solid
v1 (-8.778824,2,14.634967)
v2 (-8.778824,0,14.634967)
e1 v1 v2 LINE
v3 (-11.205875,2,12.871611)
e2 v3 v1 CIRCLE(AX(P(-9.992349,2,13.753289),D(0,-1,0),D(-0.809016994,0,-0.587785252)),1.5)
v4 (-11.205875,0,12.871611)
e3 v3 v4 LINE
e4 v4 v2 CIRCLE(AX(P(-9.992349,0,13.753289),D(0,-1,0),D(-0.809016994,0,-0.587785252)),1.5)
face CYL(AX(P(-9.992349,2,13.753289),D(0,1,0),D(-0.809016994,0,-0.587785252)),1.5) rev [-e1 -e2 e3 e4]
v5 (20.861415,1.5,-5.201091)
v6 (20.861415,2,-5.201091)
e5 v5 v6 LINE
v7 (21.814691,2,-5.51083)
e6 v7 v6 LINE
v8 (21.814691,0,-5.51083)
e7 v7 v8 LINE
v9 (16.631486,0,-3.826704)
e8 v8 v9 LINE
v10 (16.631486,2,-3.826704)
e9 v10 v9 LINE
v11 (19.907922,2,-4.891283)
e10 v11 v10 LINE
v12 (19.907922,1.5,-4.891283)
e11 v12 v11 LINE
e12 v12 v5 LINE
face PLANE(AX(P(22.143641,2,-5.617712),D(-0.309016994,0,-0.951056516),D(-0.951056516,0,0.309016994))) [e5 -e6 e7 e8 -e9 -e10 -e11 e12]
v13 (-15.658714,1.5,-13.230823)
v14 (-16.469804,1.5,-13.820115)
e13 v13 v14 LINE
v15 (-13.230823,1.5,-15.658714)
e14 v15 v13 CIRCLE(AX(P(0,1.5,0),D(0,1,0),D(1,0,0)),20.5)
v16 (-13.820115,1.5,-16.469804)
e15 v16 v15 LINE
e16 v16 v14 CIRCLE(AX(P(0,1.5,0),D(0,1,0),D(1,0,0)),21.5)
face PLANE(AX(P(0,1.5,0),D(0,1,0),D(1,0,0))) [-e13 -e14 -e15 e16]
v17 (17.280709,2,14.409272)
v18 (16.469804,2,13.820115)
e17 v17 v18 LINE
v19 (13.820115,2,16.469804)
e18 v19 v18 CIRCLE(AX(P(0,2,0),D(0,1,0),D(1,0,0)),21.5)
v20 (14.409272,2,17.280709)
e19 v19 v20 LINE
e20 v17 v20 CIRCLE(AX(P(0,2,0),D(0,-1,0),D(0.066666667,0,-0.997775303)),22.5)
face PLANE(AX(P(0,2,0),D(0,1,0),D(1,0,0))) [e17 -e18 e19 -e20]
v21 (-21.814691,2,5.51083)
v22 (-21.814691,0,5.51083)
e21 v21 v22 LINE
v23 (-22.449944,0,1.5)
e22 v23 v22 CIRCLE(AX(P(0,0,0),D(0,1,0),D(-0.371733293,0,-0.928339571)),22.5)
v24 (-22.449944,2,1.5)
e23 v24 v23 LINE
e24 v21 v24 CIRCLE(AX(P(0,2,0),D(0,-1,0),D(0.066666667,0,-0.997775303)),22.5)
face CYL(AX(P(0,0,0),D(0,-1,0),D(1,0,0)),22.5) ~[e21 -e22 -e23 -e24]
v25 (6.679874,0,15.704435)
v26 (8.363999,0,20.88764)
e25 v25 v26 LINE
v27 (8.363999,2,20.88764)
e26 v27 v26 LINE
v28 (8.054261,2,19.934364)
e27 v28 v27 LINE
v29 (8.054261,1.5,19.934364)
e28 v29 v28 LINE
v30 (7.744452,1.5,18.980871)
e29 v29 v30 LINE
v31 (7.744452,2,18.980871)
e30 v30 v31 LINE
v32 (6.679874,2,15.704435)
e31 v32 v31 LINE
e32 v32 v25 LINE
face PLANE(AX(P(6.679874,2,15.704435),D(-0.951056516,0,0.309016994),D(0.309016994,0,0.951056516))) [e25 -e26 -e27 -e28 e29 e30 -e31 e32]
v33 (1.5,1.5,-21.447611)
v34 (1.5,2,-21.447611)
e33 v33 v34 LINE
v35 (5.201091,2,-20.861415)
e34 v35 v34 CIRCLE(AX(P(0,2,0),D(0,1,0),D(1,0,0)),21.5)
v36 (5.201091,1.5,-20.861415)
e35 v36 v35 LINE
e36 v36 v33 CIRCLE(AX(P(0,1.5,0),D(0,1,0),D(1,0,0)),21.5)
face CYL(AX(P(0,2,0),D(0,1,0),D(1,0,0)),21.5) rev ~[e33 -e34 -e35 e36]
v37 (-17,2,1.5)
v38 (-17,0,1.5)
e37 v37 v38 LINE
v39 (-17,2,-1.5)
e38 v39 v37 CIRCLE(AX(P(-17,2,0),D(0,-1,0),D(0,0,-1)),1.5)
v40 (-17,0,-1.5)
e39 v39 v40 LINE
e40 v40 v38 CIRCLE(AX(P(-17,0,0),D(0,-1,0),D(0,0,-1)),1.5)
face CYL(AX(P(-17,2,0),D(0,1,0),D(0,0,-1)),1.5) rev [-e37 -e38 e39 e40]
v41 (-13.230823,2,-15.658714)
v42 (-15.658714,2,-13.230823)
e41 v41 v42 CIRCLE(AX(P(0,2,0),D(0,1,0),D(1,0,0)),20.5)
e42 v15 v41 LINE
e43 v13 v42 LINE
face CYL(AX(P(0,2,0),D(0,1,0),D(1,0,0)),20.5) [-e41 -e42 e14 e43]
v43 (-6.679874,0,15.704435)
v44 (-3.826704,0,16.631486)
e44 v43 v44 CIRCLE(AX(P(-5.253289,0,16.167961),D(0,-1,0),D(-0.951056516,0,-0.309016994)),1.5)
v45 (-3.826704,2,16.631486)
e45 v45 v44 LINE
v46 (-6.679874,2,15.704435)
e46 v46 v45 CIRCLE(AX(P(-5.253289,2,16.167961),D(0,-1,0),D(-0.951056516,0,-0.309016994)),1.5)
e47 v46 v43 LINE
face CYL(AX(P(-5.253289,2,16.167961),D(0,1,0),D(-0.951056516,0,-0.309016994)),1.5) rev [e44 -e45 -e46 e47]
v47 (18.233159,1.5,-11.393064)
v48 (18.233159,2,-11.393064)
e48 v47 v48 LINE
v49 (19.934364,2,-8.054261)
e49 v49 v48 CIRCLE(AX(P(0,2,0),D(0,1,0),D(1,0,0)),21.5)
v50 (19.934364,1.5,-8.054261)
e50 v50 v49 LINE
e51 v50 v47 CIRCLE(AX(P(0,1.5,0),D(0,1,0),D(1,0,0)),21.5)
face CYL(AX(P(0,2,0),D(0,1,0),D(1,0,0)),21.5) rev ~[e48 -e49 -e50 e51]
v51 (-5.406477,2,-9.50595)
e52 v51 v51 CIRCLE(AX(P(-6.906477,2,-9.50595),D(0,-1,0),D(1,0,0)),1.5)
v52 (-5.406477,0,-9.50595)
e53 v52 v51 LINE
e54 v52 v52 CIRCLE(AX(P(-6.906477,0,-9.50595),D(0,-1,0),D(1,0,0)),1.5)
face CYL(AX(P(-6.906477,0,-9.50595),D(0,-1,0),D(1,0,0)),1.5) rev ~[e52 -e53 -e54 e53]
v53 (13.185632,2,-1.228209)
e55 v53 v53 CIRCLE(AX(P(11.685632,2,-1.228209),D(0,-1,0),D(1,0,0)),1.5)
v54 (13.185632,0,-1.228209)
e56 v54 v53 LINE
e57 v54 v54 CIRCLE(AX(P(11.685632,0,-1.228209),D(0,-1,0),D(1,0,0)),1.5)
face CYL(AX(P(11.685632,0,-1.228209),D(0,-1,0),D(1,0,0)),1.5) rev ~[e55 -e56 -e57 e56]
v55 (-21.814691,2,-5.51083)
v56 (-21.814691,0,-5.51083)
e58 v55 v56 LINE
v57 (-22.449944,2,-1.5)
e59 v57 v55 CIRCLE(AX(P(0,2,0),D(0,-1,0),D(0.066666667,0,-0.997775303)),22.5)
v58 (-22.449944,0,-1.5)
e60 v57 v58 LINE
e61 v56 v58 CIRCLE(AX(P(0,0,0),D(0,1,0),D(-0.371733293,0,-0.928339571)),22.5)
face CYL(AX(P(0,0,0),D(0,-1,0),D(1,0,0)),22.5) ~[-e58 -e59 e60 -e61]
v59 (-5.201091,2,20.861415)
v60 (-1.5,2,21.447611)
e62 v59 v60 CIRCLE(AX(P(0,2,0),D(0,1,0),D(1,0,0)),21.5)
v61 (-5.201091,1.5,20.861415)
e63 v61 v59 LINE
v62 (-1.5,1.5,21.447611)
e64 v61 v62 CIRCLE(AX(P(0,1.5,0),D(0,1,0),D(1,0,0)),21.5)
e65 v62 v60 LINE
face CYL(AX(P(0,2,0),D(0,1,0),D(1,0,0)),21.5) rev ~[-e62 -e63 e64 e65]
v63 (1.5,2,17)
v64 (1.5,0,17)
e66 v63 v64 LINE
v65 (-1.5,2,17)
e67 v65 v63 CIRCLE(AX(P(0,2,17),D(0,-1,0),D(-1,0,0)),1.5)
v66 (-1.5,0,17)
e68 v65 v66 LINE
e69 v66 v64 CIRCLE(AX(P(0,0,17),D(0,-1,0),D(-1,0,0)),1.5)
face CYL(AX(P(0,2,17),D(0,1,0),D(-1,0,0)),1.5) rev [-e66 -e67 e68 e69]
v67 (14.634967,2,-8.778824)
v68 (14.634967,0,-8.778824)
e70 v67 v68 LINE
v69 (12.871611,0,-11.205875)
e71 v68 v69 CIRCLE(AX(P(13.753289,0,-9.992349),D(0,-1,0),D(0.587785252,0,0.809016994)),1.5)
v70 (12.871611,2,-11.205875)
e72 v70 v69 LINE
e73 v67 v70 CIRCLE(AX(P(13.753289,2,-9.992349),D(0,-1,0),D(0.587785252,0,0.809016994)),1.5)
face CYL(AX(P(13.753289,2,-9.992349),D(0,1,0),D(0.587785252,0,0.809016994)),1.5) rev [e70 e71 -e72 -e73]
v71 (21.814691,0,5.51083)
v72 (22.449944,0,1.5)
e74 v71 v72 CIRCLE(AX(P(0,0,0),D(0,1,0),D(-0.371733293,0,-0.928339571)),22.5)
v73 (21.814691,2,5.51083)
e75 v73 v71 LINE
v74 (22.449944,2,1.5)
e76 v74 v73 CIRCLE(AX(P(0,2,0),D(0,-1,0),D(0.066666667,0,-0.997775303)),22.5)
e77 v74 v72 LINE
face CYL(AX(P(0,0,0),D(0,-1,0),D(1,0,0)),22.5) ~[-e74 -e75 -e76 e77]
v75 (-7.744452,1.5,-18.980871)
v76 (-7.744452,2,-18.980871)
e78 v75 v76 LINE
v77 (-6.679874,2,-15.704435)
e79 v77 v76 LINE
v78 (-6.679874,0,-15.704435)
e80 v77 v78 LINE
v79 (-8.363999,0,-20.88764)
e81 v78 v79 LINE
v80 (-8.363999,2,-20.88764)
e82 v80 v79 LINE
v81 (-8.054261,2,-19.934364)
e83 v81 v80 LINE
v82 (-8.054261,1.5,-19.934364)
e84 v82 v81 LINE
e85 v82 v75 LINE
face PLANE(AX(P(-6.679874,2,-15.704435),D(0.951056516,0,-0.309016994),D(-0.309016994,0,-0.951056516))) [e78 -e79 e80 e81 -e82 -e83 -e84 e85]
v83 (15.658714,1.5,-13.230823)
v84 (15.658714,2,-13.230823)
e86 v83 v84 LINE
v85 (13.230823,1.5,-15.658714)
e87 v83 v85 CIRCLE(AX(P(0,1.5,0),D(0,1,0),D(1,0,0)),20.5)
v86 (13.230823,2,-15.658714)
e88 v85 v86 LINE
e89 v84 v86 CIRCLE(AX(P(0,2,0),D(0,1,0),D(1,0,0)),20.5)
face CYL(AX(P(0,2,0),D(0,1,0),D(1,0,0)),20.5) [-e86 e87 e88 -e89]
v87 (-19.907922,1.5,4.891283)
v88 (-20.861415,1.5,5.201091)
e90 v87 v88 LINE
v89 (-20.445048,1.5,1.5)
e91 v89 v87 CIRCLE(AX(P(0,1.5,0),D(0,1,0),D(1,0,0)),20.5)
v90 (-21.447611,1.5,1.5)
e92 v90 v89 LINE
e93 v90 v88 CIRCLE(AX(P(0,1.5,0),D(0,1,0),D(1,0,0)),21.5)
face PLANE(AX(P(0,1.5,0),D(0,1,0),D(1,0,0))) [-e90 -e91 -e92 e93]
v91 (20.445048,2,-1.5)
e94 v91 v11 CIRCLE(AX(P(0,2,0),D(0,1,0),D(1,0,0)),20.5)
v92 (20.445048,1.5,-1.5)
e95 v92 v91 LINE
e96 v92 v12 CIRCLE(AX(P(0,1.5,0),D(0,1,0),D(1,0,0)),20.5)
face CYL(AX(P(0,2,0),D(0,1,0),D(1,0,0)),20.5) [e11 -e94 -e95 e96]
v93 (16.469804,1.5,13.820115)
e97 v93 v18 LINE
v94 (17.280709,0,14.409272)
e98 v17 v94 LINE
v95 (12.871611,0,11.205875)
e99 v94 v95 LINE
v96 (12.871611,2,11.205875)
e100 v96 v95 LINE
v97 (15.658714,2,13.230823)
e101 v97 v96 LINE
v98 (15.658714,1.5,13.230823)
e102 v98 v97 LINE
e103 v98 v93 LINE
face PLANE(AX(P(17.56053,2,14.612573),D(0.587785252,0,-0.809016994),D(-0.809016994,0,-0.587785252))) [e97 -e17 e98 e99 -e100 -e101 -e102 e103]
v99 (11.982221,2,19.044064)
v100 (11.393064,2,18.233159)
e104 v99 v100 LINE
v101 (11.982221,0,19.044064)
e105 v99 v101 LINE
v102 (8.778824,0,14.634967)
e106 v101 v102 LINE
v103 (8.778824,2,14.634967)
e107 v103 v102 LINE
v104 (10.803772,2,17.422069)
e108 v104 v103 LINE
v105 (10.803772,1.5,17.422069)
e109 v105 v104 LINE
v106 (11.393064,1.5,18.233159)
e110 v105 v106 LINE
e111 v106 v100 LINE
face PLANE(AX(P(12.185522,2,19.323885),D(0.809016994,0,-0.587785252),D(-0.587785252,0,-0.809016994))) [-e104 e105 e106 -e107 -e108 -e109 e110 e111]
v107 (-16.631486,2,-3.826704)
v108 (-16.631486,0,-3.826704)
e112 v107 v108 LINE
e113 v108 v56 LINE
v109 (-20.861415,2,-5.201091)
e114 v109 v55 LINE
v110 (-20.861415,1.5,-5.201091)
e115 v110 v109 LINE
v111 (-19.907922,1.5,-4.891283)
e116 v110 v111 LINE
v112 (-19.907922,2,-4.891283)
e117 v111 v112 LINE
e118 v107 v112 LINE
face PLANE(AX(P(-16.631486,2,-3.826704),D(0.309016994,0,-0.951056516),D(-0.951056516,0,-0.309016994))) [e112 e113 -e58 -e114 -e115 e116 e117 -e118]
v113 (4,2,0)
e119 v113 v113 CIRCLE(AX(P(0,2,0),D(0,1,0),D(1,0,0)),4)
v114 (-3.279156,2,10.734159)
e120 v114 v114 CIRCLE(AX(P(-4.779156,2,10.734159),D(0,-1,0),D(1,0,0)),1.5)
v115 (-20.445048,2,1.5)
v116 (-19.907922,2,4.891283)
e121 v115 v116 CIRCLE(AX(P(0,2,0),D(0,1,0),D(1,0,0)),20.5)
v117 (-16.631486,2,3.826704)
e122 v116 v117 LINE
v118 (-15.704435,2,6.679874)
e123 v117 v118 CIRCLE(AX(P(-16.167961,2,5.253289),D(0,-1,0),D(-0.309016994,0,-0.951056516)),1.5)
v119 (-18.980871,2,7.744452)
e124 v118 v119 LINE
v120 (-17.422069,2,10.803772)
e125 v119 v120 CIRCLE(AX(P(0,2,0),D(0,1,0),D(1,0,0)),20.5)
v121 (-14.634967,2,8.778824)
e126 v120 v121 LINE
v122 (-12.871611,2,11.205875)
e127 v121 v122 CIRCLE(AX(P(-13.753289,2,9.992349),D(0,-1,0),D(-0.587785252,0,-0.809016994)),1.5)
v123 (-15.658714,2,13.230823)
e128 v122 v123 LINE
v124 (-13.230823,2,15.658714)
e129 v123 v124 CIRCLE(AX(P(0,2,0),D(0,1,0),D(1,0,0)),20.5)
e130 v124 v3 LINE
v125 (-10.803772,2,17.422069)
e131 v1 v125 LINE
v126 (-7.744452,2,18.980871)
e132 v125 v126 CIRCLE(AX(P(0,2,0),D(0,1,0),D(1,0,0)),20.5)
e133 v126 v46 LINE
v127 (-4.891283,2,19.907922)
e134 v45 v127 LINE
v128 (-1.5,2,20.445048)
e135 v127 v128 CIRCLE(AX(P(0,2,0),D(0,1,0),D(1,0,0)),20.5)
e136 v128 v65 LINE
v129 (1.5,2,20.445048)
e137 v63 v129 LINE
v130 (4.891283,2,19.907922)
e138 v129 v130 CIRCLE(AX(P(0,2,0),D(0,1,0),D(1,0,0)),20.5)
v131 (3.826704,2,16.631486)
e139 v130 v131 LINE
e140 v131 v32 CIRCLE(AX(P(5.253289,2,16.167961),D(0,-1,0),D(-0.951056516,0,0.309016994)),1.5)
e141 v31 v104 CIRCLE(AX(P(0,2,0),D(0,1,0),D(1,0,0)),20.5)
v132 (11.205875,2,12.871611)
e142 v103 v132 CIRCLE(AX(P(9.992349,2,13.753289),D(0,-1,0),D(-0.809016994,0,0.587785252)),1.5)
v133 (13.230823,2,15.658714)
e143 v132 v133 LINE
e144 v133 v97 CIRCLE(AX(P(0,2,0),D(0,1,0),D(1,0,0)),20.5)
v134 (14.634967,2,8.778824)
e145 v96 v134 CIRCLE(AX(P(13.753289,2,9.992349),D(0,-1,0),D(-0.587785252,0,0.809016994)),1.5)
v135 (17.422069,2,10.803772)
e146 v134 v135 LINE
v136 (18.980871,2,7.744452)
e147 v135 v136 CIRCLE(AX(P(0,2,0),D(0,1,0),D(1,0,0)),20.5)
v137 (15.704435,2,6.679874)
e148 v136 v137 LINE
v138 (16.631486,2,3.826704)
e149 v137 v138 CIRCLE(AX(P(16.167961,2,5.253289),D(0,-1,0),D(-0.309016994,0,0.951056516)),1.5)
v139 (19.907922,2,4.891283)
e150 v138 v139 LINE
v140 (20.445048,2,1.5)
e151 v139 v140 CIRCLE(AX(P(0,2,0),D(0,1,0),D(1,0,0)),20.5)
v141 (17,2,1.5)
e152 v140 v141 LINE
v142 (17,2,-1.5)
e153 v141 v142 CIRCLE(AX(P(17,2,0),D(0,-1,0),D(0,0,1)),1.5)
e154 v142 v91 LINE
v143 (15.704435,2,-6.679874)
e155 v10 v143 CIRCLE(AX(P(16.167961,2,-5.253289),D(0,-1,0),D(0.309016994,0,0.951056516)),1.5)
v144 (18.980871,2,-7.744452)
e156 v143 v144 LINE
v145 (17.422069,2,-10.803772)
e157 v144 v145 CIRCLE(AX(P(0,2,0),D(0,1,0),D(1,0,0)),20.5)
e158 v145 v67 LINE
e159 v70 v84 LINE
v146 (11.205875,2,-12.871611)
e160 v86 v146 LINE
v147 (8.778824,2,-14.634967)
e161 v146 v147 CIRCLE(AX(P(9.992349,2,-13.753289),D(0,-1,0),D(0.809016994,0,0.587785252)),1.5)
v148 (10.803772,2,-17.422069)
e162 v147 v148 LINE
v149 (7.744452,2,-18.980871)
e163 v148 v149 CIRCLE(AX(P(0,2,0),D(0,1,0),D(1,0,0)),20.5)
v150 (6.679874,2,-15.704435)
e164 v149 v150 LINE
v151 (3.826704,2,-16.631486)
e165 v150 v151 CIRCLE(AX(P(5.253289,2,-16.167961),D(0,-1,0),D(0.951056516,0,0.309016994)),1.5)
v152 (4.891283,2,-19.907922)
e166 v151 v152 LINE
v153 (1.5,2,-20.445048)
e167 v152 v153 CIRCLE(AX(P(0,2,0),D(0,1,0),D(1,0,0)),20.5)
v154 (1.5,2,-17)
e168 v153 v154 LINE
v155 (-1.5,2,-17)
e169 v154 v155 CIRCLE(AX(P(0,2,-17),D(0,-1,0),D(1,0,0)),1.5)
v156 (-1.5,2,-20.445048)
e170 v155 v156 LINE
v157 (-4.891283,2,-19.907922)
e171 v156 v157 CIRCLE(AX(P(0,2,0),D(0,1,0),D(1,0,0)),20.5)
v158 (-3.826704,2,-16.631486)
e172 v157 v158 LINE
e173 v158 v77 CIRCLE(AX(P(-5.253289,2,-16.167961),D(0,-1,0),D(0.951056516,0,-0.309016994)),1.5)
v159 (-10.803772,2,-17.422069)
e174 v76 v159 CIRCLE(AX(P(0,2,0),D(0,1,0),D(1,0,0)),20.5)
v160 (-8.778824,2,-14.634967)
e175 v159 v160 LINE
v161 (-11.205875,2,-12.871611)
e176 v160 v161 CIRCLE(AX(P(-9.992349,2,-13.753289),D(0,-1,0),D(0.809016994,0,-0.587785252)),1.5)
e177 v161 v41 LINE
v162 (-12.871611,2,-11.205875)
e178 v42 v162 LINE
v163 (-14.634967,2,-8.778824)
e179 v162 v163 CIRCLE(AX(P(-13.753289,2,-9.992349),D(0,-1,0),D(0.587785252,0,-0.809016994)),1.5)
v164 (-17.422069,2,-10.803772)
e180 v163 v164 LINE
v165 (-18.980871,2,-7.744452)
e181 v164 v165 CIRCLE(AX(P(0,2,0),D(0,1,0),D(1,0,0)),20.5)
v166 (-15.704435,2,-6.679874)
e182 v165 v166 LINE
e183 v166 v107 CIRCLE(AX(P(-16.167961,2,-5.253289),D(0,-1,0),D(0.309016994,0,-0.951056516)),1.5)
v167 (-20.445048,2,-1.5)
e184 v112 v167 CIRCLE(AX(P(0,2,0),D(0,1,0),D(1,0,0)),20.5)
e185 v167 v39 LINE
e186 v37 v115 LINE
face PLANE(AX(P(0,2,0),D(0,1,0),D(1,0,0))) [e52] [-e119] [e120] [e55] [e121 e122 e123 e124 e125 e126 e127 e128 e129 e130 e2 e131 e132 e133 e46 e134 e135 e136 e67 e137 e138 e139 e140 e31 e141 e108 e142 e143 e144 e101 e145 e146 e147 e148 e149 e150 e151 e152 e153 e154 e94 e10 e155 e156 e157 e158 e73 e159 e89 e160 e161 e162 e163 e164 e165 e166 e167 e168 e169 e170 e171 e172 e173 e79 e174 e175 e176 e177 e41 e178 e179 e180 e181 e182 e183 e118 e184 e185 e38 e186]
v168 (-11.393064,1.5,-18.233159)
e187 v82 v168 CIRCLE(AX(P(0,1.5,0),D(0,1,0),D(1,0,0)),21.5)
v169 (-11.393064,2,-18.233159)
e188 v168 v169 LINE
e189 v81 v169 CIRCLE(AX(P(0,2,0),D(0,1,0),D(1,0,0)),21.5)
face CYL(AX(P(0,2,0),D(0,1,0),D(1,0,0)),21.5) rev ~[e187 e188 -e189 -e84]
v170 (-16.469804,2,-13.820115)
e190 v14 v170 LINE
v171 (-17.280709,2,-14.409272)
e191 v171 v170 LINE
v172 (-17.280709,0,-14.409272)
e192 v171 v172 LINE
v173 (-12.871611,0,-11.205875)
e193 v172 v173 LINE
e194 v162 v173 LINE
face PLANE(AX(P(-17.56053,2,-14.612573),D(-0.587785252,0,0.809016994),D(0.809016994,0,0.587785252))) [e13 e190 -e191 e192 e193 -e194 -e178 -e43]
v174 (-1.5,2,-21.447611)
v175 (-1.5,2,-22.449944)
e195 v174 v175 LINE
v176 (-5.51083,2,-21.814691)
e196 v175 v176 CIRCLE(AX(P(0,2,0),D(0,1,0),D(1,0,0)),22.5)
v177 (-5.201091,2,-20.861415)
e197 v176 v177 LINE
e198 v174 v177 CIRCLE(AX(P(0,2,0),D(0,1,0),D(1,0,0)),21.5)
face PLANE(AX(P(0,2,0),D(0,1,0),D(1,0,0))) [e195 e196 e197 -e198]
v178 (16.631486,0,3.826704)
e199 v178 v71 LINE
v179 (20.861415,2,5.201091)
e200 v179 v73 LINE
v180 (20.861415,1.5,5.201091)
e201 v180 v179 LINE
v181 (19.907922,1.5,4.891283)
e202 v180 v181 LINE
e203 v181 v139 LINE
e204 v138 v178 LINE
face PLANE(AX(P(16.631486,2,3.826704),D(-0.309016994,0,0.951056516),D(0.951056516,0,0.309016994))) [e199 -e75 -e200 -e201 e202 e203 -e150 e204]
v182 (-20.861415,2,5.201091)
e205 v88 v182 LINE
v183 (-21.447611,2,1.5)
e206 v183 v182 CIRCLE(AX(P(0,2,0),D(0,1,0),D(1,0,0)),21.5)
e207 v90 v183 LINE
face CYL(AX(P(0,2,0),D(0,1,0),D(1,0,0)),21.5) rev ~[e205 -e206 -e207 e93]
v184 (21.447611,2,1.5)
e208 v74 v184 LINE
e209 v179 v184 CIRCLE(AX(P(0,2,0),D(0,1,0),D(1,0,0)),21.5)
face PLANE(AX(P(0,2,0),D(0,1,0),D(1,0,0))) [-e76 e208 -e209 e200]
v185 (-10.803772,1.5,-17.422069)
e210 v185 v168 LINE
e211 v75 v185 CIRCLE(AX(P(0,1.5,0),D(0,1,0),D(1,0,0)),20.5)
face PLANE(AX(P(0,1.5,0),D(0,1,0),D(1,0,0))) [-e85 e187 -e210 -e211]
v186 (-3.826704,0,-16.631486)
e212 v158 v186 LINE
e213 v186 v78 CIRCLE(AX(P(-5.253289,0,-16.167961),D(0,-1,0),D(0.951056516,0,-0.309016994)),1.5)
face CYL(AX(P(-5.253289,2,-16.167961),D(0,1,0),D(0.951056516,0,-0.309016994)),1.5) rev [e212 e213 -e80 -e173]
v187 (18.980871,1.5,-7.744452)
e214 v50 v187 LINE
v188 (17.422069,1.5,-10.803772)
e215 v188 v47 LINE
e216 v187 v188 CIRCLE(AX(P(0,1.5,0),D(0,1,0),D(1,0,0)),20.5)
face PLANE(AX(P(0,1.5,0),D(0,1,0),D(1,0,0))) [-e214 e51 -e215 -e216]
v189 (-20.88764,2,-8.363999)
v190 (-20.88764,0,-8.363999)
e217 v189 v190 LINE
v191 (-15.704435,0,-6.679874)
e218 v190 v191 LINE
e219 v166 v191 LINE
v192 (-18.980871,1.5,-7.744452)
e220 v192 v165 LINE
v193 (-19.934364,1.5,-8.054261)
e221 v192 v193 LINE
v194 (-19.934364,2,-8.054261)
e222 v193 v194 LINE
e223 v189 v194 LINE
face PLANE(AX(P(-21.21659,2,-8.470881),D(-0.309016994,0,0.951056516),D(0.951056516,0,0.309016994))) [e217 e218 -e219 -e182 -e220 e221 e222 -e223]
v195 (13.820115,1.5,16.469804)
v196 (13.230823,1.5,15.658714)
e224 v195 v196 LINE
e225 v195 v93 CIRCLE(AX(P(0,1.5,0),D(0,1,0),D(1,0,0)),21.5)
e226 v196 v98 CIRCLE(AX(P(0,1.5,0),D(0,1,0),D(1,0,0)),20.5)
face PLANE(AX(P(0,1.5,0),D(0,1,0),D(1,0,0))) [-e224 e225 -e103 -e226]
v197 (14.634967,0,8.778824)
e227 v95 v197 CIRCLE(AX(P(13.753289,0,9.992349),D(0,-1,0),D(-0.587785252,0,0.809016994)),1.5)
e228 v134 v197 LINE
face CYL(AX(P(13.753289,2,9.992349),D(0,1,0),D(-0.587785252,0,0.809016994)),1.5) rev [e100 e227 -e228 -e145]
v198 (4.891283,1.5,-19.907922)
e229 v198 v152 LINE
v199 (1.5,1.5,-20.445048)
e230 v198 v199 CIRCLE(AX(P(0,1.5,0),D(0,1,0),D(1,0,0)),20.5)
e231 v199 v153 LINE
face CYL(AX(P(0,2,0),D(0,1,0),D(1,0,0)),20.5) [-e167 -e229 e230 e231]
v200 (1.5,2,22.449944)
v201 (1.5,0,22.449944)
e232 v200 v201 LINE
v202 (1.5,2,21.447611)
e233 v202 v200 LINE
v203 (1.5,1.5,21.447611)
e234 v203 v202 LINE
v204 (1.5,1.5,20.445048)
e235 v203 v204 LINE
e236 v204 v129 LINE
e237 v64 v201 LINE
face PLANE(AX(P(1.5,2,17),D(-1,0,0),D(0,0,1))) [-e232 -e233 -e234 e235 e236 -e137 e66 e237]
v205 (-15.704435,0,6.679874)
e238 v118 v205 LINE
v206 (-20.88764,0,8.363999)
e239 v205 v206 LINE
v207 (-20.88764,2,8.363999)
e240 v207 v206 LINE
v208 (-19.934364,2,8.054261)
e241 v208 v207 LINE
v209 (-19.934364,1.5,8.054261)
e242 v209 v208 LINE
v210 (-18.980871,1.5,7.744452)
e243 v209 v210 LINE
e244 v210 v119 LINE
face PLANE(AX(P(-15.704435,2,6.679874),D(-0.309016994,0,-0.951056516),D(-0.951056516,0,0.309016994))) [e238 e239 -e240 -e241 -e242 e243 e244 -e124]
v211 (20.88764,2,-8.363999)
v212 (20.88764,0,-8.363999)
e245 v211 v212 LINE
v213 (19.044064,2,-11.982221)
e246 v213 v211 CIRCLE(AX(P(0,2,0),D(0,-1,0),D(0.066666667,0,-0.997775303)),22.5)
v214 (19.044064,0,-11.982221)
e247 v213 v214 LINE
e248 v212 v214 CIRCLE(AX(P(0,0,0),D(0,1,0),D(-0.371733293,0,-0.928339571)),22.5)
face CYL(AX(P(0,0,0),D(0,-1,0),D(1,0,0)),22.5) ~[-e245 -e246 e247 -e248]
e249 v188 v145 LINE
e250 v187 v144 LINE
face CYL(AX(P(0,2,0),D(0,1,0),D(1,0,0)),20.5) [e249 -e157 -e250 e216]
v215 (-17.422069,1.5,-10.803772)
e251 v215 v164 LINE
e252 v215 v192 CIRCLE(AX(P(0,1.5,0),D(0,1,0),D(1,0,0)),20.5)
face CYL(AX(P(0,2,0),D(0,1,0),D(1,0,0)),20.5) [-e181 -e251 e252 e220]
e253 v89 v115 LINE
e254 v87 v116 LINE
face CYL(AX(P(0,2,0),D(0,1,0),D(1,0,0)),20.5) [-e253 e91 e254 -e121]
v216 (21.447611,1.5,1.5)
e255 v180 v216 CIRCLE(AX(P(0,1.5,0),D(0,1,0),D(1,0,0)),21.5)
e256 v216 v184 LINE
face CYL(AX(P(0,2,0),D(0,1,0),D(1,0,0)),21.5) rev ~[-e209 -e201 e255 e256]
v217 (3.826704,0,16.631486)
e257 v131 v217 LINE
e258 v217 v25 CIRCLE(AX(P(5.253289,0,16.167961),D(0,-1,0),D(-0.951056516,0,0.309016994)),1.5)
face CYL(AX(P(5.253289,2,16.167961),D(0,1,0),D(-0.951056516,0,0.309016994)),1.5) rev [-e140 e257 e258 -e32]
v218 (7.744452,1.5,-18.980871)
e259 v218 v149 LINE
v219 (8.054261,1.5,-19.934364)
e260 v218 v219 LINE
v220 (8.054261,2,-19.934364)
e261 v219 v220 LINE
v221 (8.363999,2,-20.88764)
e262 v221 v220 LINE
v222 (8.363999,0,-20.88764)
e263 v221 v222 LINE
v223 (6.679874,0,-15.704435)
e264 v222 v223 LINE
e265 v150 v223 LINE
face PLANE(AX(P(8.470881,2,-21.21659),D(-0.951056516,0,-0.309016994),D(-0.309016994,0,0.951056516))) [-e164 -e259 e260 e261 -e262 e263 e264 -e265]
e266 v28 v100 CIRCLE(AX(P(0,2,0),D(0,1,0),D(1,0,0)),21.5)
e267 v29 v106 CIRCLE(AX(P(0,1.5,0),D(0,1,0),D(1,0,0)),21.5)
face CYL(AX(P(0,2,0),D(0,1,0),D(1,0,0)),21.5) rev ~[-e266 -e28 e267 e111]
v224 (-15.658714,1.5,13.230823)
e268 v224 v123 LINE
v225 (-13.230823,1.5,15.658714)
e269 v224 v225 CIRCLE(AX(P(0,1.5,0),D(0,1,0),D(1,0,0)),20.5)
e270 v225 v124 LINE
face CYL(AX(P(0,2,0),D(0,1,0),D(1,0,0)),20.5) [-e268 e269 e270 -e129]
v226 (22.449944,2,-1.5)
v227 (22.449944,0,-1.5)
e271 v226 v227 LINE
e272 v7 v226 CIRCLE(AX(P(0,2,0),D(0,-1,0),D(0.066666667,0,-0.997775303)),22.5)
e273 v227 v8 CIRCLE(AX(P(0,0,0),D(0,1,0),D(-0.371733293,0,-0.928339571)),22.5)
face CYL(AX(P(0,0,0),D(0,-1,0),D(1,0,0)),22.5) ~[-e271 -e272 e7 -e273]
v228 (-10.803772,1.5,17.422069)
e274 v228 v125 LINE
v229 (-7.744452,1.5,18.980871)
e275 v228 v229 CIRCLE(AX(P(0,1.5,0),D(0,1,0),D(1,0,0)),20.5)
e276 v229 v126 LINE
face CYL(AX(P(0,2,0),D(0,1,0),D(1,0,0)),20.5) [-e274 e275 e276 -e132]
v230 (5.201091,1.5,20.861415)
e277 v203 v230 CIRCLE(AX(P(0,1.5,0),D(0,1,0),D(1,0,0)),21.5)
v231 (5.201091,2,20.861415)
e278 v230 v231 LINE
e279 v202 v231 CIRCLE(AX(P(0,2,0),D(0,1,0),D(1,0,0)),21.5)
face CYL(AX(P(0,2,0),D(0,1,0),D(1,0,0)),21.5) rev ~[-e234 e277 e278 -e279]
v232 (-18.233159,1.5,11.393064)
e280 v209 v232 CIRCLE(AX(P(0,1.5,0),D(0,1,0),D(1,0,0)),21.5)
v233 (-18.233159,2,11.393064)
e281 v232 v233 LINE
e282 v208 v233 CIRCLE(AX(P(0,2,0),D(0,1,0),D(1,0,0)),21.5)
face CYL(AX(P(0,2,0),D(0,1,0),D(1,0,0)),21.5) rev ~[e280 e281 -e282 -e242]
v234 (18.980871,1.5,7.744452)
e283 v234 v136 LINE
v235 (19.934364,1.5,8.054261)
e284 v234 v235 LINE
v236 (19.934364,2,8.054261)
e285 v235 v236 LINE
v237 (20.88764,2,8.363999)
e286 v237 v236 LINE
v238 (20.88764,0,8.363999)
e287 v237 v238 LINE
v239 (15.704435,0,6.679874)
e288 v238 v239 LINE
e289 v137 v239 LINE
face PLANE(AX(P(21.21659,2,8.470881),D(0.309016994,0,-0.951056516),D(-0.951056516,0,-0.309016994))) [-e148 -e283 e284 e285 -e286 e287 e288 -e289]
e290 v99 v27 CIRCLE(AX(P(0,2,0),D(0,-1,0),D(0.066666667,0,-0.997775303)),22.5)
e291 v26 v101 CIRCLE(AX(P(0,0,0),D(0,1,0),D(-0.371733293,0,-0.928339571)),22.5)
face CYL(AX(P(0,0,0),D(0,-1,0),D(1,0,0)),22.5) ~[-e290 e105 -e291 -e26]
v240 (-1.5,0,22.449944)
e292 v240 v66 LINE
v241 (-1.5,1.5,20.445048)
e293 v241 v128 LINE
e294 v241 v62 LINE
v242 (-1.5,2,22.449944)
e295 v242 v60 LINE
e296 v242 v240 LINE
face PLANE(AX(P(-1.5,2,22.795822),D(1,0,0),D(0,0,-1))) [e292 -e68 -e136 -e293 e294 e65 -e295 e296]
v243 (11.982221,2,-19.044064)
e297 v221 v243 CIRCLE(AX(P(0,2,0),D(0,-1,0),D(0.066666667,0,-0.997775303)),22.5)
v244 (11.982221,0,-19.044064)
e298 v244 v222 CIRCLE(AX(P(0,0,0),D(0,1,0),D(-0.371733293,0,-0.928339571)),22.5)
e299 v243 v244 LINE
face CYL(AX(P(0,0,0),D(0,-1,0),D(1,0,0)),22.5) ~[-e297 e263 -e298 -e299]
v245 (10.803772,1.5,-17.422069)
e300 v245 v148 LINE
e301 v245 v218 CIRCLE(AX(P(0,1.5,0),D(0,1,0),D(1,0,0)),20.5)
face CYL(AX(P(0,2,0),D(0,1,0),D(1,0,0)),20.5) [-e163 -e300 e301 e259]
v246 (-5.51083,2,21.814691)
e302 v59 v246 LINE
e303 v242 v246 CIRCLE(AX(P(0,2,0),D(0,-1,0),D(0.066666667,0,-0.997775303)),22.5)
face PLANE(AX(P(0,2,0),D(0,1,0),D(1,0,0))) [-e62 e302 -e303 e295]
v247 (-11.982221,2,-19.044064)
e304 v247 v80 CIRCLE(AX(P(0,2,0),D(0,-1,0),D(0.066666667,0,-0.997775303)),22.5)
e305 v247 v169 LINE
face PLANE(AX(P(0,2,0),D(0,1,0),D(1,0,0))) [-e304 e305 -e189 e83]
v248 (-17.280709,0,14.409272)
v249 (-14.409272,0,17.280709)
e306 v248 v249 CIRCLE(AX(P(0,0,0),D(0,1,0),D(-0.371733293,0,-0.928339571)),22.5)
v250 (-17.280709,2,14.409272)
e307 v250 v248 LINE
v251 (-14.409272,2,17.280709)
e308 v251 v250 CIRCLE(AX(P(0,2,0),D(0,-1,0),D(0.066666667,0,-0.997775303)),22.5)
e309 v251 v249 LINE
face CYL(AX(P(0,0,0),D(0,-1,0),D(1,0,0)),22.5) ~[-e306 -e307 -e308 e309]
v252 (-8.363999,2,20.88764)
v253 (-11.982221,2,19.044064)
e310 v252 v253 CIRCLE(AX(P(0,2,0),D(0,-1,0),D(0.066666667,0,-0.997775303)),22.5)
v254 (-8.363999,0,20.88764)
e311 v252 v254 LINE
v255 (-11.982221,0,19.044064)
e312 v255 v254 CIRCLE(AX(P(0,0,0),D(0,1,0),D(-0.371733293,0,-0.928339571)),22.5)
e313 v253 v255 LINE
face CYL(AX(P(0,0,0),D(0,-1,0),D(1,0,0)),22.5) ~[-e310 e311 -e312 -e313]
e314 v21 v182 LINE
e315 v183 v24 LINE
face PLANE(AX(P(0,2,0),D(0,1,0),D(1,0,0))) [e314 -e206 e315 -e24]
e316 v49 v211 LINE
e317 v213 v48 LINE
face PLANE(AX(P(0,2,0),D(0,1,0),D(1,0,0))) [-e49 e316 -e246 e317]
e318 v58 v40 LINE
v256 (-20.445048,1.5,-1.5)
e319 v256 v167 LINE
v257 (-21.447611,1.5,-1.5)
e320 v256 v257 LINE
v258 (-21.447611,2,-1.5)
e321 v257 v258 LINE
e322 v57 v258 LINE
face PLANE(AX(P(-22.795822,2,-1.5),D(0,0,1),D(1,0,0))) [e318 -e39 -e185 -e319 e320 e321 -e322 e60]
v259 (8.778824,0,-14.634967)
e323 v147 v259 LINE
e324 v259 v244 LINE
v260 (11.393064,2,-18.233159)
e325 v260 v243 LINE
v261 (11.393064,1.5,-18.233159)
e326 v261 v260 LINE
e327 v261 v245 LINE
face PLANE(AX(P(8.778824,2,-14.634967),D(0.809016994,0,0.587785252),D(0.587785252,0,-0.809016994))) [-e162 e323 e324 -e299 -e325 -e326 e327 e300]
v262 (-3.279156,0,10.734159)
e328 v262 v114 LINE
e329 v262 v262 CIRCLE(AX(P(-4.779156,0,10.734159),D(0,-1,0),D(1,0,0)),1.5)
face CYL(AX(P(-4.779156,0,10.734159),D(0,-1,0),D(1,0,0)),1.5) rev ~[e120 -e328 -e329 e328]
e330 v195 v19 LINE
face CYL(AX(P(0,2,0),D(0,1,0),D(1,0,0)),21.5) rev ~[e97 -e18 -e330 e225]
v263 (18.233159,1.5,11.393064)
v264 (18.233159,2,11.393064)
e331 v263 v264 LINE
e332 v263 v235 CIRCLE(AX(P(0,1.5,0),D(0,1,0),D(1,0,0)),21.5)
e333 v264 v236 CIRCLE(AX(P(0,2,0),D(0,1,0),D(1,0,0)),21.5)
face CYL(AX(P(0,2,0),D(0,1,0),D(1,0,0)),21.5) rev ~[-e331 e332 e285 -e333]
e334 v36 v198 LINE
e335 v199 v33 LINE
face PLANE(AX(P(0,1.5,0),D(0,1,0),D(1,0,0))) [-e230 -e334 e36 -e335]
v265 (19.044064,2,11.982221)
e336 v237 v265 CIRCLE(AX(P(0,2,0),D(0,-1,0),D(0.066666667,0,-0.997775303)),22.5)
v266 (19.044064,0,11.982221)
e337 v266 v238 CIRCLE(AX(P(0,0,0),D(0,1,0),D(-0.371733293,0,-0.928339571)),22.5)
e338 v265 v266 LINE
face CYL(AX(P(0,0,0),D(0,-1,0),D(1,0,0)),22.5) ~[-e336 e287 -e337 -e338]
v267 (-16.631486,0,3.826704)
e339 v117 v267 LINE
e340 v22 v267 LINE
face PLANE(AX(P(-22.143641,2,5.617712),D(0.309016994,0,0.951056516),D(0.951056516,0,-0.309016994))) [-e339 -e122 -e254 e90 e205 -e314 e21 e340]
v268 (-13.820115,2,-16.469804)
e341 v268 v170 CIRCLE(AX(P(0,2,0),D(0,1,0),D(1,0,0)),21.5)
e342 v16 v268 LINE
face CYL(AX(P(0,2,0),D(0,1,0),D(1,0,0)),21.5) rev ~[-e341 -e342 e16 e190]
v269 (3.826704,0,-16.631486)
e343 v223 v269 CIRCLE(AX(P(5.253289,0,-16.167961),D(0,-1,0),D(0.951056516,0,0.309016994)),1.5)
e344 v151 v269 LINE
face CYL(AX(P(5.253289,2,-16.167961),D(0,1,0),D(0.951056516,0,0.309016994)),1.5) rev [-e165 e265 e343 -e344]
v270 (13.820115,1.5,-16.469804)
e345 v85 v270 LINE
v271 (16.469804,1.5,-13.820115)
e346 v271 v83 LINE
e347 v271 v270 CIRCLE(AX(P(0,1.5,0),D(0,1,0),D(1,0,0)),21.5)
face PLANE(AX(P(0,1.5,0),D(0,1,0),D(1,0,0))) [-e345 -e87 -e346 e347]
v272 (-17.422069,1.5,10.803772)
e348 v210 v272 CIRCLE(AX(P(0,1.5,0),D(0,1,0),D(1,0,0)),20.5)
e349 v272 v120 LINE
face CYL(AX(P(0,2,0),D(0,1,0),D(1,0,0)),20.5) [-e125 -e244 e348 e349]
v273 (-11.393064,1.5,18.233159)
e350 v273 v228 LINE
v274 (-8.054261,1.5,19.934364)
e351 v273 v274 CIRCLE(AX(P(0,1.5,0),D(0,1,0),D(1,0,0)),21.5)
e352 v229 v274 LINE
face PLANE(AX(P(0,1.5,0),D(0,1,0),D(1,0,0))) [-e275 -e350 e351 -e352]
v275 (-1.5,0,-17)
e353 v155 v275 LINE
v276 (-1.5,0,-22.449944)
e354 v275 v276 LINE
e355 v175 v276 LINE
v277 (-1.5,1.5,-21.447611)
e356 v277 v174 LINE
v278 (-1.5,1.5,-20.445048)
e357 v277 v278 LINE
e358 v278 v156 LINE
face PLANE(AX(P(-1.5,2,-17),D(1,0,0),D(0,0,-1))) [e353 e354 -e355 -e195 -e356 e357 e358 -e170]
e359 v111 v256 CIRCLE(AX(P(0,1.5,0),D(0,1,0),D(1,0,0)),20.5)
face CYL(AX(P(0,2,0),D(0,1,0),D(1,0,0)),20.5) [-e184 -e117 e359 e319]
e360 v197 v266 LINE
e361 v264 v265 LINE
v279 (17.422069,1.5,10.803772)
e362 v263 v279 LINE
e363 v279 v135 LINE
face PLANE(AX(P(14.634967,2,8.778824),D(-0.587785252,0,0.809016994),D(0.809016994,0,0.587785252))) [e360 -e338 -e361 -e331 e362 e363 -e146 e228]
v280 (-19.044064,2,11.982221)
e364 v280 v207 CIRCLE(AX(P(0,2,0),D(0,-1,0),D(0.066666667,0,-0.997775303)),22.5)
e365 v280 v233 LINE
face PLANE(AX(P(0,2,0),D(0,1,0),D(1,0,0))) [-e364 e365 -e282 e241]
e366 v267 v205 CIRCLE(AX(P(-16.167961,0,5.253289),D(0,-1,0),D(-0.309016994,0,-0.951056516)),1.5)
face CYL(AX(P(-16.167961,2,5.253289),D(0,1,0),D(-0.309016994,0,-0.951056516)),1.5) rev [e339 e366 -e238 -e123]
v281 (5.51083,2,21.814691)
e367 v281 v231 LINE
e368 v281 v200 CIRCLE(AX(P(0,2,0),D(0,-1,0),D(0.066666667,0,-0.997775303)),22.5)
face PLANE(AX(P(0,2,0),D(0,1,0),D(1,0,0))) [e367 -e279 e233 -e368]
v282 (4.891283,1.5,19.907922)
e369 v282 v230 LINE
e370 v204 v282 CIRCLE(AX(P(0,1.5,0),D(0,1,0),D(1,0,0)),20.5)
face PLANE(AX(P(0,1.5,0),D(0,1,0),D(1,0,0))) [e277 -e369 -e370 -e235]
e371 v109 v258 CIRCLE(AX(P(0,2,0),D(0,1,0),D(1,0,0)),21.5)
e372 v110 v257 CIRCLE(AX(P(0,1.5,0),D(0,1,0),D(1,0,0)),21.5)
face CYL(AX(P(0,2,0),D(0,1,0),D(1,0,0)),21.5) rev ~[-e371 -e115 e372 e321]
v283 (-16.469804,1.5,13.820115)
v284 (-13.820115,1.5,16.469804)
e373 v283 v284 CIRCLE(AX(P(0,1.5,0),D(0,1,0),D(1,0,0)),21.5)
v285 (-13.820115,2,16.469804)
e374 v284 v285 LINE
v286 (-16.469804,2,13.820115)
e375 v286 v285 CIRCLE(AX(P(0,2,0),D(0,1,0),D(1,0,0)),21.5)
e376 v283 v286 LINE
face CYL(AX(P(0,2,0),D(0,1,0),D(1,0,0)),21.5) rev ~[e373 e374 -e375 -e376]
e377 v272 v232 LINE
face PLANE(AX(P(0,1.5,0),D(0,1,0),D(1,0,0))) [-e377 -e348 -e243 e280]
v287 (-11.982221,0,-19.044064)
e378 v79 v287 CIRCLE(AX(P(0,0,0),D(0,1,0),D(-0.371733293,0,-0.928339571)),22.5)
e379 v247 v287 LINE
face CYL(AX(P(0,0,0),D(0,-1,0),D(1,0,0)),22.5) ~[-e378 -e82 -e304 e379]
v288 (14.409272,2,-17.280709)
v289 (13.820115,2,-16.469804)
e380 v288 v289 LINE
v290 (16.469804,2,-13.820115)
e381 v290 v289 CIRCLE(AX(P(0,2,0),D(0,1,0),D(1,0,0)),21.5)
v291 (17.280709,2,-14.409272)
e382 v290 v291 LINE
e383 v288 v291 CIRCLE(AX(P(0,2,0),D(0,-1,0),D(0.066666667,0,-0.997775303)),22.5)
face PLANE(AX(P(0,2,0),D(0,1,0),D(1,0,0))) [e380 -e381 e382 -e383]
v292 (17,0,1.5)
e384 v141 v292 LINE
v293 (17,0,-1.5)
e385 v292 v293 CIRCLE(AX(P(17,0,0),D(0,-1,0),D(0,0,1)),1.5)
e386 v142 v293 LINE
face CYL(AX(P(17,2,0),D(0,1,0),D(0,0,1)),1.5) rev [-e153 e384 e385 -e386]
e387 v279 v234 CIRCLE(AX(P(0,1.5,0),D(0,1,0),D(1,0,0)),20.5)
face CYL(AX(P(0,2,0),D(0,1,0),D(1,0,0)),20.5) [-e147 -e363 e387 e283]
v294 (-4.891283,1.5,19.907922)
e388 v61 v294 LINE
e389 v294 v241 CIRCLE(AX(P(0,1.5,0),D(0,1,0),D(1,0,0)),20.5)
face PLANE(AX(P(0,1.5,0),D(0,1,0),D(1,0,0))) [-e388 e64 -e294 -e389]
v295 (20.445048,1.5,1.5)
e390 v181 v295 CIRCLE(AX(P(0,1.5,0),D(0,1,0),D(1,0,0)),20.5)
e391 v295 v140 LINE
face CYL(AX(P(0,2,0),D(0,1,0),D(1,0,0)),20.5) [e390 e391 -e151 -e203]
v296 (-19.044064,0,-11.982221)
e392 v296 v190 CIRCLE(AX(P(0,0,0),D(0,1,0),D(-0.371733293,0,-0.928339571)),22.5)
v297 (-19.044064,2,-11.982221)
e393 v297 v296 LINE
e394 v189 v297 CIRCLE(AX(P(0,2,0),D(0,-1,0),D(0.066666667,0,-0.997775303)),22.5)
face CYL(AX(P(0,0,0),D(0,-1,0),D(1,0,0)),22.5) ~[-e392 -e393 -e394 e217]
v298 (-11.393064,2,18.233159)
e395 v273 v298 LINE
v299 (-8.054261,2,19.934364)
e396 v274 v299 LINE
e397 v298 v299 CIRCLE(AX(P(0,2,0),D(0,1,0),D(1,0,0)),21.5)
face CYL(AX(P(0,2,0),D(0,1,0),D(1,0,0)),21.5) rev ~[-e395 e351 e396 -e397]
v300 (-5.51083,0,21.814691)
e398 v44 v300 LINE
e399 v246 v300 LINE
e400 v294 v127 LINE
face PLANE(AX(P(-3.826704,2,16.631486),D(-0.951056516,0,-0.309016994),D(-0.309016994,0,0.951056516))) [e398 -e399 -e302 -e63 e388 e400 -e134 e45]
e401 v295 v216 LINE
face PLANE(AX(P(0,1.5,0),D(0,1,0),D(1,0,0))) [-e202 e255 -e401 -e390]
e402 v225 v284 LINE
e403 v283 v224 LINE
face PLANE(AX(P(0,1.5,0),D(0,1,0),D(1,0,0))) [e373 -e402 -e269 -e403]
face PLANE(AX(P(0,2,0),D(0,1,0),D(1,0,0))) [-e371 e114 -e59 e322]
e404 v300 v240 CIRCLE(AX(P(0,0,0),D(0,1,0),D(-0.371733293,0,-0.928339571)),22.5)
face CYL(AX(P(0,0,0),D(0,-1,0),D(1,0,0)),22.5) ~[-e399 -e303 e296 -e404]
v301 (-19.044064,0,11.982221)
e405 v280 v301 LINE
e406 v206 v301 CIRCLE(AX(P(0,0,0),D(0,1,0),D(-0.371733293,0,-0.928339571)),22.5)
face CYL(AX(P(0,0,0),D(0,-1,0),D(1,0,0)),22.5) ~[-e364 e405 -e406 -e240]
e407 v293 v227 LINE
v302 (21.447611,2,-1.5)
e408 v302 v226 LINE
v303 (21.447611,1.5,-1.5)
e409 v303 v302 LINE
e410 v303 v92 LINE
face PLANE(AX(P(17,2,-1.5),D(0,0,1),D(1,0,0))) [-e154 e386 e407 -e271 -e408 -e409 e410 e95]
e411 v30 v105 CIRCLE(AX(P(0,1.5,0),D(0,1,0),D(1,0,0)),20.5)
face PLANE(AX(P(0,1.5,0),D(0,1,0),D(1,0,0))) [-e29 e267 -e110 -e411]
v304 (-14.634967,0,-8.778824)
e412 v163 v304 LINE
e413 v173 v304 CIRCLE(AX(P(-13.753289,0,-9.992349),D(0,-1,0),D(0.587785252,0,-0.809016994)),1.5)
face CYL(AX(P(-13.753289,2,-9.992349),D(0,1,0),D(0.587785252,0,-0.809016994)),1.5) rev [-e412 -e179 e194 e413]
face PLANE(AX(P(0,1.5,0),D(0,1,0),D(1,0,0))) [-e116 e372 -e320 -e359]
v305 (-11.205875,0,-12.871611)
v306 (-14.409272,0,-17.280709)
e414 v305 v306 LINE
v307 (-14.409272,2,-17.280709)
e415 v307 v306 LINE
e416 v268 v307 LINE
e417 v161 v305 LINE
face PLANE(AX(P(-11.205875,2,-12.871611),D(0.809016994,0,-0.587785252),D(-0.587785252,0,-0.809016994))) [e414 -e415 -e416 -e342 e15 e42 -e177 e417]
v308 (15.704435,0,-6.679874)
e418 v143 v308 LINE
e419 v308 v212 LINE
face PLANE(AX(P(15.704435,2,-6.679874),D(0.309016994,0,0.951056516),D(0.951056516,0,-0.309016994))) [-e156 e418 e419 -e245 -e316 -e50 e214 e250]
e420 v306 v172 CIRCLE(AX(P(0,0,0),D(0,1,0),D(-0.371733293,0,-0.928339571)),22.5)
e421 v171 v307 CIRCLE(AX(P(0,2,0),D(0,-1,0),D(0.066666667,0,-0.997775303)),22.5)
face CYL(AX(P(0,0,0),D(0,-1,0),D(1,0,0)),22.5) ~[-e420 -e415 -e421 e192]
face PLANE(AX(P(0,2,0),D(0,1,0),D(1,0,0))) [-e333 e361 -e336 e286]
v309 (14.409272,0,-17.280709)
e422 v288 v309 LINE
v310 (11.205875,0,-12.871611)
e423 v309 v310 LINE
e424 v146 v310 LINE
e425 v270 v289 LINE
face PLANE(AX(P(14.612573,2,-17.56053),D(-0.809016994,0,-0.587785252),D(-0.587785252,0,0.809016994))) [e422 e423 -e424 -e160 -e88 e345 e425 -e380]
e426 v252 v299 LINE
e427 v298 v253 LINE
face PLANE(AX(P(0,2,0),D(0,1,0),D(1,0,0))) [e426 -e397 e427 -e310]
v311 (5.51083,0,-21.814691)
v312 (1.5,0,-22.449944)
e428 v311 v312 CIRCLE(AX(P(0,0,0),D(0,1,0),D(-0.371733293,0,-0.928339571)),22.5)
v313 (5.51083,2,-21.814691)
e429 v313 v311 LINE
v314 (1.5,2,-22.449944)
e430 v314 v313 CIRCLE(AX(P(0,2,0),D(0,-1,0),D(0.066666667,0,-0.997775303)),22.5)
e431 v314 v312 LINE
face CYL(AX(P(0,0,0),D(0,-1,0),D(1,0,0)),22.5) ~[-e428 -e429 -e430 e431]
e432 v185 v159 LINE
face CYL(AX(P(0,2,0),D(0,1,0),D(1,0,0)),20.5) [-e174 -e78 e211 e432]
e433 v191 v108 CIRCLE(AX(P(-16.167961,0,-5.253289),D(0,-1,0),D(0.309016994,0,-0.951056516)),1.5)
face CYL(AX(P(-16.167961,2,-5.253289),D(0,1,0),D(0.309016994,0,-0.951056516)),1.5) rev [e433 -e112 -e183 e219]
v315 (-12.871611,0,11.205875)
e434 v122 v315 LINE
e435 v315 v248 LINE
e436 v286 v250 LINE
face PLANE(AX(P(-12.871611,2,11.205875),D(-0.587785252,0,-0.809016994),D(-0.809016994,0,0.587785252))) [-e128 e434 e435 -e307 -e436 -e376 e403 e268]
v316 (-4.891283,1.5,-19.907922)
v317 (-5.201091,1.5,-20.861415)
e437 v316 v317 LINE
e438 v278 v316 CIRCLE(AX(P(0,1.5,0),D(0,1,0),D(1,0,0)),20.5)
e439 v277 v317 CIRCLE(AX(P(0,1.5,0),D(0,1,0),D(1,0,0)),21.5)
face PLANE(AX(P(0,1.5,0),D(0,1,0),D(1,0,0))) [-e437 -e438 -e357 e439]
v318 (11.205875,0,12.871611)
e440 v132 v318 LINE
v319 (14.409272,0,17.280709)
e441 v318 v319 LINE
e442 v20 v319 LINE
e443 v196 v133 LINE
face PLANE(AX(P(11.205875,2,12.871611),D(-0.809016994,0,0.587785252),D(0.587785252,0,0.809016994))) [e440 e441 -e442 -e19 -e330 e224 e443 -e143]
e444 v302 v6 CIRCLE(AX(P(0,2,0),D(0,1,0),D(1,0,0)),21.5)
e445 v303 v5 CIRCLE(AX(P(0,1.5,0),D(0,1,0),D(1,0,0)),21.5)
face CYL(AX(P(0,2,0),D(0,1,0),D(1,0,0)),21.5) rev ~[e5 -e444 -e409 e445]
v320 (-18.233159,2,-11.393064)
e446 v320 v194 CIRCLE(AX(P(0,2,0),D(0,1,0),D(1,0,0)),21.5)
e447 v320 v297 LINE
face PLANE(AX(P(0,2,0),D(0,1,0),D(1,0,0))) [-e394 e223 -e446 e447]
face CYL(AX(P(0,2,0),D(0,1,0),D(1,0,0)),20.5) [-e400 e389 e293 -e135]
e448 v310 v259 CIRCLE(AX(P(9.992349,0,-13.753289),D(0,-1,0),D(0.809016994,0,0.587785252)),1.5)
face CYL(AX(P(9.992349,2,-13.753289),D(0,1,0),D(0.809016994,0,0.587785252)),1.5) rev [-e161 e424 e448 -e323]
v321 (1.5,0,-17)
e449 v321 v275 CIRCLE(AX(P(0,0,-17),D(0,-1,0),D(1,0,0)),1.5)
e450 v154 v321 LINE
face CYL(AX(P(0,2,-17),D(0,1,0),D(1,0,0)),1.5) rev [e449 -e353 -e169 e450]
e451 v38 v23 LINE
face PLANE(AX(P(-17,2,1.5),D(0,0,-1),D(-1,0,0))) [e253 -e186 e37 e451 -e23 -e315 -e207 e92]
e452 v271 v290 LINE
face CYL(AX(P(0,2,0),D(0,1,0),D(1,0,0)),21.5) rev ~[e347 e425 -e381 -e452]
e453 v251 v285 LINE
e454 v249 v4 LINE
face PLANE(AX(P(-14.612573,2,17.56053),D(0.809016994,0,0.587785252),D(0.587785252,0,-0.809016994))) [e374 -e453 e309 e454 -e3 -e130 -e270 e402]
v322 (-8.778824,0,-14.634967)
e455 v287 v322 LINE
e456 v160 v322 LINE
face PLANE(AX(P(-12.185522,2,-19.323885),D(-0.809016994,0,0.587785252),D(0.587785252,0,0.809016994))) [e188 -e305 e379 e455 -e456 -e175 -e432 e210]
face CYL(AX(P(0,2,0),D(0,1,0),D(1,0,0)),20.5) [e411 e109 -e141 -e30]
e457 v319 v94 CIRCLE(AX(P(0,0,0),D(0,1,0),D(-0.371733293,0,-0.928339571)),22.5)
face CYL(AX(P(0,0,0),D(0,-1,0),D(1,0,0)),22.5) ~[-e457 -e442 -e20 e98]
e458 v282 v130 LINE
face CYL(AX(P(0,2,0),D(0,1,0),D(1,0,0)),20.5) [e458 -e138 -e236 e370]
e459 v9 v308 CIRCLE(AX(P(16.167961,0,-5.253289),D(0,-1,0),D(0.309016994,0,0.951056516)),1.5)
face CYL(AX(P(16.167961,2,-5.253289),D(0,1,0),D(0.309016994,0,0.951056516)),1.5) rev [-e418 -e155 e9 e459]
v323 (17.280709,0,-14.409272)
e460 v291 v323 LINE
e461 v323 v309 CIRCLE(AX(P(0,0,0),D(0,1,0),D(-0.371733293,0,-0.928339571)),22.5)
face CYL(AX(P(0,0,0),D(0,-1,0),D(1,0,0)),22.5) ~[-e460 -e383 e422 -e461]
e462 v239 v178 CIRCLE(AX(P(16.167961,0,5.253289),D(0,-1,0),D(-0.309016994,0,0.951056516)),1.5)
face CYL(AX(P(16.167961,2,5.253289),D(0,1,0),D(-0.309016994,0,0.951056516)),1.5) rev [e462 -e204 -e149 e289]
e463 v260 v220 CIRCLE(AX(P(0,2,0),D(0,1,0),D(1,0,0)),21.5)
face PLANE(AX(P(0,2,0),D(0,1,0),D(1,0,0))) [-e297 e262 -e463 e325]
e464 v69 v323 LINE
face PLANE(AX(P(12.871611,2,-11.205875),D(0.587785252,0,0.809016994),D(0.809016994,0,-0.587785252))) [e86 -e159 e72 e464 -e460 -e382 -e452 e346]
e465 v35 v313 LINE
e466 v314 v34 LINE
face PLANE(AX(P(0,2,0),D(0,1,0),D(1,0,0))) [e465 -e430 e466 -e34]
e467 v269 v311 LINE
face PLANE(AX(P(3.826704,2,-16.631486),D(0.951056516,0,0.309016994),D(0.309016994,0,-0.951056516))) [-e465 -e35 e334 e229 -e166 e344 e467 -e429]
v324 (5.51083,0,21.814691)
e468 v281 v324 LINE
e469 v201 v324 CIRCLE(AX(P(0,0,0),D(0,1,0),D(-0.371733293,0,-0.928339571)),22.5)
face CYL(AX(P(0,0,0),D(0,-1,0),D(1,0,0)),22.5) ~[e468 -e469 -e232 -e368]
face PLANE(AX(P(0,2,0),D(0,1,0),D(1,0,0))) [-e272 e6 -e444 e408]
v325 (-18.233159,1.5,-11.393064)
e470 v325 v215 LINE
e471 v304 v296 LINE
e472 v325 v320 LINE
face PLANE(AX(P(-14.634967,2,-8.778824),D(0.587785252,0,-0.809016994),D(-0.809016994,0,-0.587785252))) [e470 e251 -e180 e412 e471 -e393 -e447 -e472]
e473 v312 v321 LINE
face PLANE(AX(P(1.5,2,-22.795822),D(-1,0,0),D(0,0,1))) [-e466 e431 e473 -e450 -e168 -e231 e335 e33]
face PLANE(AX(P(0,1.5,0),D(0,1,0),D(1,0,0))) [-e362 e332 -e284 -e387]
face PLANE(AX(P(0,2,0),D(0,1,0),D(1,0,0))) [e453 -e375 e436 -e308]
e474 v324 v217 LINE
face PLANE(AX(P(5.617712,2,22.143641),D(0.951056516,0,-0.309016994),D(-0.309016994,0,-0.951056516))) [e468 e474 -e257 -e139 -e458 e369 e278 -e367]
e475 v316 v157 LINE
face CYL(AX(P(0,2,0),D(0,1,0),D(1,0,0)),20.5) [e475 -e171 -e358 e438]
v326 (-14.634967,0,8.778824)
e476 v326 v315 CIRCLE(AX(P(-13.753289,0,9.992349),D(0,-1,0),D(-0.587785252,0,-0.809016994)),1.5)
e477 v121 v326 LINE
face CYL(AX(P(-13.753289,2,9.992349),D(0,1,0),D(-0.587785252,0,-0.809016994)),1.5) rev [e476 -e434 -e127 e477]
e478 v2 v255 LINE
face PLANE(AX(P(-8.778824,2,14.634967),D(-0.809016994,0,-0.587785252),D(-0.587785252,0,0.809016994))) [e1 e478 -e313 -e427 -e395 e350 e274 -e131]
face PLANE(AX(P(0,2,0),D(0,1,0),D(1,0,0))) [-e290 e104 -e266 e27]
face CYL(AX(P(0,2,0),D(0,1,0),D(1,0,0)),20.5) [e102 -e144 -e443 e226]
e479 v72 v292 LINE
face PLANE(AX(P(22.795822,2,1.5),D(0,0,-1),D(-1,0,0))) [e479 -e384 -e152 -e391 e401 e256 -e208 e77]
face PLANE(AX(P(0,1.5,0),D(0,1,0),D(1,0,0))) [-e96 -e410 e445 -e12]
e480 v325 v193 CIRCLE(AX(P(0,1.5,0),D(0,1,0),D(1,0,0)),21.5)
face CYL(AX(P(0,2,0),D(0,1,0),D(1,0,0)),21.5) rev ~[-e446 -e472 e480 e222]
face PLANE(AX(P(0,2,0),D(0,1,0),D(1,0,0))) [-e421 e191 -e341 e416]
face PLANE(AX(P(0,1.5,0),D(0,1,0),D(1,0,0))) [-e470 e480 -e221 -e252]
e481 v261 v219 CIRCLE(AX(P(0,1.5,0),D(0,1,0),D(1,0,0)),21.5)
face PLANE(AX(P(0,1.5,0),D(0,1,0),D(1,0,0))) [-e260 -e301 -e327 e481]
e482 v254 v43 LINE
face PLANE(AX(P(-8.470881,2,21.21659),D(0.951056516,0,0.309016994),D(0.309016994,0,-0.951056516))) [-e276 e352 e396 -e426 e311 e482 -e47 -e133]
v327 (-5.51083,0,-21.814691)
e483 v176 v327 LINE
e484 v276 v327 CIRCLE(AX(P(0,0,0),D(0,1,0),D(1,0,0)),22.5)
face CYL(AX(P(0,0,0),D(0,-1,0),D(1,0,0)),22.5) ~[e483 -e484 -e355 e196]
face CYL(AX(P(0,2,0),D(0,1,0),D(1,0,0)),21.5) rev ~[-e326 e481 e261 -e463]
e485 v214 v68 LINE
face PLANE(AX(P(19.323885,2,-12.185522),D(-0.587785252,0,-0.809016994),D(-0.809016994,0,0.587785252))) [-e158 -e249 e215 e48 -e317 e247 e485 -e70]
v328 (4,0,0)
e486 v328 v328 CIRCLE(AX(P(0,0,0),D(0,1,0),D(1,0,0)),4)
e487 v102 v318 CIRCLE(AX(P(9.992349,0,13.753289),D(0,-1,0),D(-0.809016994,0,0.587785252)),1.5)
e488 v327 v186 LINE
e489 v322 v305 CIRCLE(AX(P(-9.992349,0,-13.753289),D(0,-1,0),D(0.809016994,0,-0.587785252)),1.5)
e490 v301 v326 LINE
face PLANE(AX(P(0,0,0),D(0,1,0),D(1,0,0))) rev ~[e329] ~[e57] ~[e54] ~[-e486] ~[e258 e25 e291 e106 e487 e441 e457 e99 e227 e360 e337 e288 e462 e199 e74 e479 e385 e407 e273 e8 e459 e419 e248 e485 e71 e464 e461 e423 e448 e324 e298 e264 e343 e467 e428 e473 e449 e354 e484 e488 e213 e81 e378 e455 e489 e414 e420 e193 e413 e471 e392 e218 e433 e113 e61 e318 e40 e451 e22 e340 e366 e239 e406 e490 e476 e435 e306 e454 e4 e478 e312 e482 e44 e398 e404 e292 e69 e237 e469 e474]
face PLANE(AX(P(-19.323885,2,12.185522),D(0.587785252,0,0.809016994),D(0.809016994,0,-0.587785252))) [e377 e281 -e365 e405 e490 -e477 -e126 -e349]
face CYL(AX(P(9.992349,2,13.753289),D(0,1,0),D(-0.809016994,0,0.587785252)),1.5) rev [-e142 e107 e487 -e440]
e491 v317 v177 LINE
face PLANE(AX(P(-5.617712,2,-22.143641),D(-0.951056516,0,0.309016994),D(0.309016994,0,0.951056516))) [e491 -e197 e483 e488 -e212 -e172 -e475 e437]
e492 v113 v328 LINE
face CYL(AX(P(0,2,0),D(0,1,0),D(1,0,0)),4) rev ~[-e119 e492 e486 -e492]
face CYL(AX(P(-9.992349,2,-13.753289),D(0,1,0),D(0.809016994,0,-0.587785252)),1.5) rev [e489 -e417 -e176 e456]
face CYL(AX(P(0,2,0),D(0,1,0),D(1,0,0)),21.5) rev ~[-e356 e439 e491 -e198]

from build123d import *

# Parameters (mm, degrees)
SKETCH1_R           = 22.5
BOSS_EXTRUDE1_DEPTH = 2
CUT_EXTRUDE1_DEPTH  = 2
CIRPATTERN1_COUNT   = 20
SKETCH3_R           = 21.5
SKETCH3_R_2         = 20.5
CUT_EXTRUDE2_DEPTH  = 0.5
SKETCH4_R           = 4
CUT_EXTRUDE3_DEPTH  = 3
SKETCH5_R           = 1.5
CUT_EXTRUDE4_DEPTH  = 10


with BuildPart() as part:
    # Sketch1 → Boss-Extrude1 (new body)
    with BuildSketch(Plane(origin=(0, 0, 0), x_dir=(1, 0, 0), z_dir=(0, 1, 0))):
        Circle(SKETCH1_R)
    extrude(amount=BOSS_EXTRUDE1_DEPTH)

    # Sketch2 → Cut-Extrude1 (cut)
    with BuildSketch(Plane(origin=(0, 2, 0), x_dir=(1, 0, 0), z_dir=(0, 1, 0))):
        with BuildLine():
            Line((1.5, 22.795822005), (1.5, 17))
            ThreePointArc((1.5, 17), (0, 15.5), (-1.5, 17))
            Line((-1.5, 17), (-1.5, 22.795822005))
            ThreePointArc((-1.5, 22.795822005), (0, 24.295822005), (1.5, 22.795822005))
        make_face()
    cut_extrude1 = extrude(amount=-CUT_EXTRUDE1_DEPTH, mode=Mode.SUBTRACT)

    # CirPattern1: Cut-Extrude1 ×20 about axis
    cirpattern1_axis = Axis((0, 0, 0), (0, 1, 0))
    for i in range(1, CIRPATTERN1_COUNT):
        add(cut_extrude1.rotate(cirpattern1_axis, i * 360 / CIRPATTERN1_COUNT), mode=Mode.SUBTRACT)

    # Sketch3 → Cut-Extrude2 (cut)
    with BuildSketch(Plane(origin=(0, 2, 0), x_dir=(1, 0, 0), z_dir=(0, 1, 0))):
        Circle(SKETCH3_R)
        Circle(SKETCH3_R_2, mode=Mode.SUBTRACT)
    extrude(amount=-CUT_EXTRUDE2_DEPTH, mode=Mode.SUBTRACT)

    # Sketch4 → Cut-Extrude3 (cut, through all)
    with BuildSketch(Plane(origin=(0, 2, 0), x_dir=(1, 0, 0), z_dir=(0, 1, 0))):
        Circle(SKETCH4_R)
    extrude(amount=-CUT_EXTRUDE3_DEPTH, mode=Mode.SUBTRACT)

    # Sketch5 → Cut-Extrude4 (cut)
    with BuildSketch(Plane.XZ):
        with Locations((-4.779155556, 10.734159127)):
            Circle(SKETCH5_R)
        with Locations((11.685632271, -1.228209443)):
            Circle(SKETCH5_R)
        with Locations((-6.906476714, -9.505949684)):
            Circle(SKETCH5_R)
    extrude(amount=-CUT_EXTRUDE4_DEPTH, mode=Mode.SUBTRACT)


solid = part.part
